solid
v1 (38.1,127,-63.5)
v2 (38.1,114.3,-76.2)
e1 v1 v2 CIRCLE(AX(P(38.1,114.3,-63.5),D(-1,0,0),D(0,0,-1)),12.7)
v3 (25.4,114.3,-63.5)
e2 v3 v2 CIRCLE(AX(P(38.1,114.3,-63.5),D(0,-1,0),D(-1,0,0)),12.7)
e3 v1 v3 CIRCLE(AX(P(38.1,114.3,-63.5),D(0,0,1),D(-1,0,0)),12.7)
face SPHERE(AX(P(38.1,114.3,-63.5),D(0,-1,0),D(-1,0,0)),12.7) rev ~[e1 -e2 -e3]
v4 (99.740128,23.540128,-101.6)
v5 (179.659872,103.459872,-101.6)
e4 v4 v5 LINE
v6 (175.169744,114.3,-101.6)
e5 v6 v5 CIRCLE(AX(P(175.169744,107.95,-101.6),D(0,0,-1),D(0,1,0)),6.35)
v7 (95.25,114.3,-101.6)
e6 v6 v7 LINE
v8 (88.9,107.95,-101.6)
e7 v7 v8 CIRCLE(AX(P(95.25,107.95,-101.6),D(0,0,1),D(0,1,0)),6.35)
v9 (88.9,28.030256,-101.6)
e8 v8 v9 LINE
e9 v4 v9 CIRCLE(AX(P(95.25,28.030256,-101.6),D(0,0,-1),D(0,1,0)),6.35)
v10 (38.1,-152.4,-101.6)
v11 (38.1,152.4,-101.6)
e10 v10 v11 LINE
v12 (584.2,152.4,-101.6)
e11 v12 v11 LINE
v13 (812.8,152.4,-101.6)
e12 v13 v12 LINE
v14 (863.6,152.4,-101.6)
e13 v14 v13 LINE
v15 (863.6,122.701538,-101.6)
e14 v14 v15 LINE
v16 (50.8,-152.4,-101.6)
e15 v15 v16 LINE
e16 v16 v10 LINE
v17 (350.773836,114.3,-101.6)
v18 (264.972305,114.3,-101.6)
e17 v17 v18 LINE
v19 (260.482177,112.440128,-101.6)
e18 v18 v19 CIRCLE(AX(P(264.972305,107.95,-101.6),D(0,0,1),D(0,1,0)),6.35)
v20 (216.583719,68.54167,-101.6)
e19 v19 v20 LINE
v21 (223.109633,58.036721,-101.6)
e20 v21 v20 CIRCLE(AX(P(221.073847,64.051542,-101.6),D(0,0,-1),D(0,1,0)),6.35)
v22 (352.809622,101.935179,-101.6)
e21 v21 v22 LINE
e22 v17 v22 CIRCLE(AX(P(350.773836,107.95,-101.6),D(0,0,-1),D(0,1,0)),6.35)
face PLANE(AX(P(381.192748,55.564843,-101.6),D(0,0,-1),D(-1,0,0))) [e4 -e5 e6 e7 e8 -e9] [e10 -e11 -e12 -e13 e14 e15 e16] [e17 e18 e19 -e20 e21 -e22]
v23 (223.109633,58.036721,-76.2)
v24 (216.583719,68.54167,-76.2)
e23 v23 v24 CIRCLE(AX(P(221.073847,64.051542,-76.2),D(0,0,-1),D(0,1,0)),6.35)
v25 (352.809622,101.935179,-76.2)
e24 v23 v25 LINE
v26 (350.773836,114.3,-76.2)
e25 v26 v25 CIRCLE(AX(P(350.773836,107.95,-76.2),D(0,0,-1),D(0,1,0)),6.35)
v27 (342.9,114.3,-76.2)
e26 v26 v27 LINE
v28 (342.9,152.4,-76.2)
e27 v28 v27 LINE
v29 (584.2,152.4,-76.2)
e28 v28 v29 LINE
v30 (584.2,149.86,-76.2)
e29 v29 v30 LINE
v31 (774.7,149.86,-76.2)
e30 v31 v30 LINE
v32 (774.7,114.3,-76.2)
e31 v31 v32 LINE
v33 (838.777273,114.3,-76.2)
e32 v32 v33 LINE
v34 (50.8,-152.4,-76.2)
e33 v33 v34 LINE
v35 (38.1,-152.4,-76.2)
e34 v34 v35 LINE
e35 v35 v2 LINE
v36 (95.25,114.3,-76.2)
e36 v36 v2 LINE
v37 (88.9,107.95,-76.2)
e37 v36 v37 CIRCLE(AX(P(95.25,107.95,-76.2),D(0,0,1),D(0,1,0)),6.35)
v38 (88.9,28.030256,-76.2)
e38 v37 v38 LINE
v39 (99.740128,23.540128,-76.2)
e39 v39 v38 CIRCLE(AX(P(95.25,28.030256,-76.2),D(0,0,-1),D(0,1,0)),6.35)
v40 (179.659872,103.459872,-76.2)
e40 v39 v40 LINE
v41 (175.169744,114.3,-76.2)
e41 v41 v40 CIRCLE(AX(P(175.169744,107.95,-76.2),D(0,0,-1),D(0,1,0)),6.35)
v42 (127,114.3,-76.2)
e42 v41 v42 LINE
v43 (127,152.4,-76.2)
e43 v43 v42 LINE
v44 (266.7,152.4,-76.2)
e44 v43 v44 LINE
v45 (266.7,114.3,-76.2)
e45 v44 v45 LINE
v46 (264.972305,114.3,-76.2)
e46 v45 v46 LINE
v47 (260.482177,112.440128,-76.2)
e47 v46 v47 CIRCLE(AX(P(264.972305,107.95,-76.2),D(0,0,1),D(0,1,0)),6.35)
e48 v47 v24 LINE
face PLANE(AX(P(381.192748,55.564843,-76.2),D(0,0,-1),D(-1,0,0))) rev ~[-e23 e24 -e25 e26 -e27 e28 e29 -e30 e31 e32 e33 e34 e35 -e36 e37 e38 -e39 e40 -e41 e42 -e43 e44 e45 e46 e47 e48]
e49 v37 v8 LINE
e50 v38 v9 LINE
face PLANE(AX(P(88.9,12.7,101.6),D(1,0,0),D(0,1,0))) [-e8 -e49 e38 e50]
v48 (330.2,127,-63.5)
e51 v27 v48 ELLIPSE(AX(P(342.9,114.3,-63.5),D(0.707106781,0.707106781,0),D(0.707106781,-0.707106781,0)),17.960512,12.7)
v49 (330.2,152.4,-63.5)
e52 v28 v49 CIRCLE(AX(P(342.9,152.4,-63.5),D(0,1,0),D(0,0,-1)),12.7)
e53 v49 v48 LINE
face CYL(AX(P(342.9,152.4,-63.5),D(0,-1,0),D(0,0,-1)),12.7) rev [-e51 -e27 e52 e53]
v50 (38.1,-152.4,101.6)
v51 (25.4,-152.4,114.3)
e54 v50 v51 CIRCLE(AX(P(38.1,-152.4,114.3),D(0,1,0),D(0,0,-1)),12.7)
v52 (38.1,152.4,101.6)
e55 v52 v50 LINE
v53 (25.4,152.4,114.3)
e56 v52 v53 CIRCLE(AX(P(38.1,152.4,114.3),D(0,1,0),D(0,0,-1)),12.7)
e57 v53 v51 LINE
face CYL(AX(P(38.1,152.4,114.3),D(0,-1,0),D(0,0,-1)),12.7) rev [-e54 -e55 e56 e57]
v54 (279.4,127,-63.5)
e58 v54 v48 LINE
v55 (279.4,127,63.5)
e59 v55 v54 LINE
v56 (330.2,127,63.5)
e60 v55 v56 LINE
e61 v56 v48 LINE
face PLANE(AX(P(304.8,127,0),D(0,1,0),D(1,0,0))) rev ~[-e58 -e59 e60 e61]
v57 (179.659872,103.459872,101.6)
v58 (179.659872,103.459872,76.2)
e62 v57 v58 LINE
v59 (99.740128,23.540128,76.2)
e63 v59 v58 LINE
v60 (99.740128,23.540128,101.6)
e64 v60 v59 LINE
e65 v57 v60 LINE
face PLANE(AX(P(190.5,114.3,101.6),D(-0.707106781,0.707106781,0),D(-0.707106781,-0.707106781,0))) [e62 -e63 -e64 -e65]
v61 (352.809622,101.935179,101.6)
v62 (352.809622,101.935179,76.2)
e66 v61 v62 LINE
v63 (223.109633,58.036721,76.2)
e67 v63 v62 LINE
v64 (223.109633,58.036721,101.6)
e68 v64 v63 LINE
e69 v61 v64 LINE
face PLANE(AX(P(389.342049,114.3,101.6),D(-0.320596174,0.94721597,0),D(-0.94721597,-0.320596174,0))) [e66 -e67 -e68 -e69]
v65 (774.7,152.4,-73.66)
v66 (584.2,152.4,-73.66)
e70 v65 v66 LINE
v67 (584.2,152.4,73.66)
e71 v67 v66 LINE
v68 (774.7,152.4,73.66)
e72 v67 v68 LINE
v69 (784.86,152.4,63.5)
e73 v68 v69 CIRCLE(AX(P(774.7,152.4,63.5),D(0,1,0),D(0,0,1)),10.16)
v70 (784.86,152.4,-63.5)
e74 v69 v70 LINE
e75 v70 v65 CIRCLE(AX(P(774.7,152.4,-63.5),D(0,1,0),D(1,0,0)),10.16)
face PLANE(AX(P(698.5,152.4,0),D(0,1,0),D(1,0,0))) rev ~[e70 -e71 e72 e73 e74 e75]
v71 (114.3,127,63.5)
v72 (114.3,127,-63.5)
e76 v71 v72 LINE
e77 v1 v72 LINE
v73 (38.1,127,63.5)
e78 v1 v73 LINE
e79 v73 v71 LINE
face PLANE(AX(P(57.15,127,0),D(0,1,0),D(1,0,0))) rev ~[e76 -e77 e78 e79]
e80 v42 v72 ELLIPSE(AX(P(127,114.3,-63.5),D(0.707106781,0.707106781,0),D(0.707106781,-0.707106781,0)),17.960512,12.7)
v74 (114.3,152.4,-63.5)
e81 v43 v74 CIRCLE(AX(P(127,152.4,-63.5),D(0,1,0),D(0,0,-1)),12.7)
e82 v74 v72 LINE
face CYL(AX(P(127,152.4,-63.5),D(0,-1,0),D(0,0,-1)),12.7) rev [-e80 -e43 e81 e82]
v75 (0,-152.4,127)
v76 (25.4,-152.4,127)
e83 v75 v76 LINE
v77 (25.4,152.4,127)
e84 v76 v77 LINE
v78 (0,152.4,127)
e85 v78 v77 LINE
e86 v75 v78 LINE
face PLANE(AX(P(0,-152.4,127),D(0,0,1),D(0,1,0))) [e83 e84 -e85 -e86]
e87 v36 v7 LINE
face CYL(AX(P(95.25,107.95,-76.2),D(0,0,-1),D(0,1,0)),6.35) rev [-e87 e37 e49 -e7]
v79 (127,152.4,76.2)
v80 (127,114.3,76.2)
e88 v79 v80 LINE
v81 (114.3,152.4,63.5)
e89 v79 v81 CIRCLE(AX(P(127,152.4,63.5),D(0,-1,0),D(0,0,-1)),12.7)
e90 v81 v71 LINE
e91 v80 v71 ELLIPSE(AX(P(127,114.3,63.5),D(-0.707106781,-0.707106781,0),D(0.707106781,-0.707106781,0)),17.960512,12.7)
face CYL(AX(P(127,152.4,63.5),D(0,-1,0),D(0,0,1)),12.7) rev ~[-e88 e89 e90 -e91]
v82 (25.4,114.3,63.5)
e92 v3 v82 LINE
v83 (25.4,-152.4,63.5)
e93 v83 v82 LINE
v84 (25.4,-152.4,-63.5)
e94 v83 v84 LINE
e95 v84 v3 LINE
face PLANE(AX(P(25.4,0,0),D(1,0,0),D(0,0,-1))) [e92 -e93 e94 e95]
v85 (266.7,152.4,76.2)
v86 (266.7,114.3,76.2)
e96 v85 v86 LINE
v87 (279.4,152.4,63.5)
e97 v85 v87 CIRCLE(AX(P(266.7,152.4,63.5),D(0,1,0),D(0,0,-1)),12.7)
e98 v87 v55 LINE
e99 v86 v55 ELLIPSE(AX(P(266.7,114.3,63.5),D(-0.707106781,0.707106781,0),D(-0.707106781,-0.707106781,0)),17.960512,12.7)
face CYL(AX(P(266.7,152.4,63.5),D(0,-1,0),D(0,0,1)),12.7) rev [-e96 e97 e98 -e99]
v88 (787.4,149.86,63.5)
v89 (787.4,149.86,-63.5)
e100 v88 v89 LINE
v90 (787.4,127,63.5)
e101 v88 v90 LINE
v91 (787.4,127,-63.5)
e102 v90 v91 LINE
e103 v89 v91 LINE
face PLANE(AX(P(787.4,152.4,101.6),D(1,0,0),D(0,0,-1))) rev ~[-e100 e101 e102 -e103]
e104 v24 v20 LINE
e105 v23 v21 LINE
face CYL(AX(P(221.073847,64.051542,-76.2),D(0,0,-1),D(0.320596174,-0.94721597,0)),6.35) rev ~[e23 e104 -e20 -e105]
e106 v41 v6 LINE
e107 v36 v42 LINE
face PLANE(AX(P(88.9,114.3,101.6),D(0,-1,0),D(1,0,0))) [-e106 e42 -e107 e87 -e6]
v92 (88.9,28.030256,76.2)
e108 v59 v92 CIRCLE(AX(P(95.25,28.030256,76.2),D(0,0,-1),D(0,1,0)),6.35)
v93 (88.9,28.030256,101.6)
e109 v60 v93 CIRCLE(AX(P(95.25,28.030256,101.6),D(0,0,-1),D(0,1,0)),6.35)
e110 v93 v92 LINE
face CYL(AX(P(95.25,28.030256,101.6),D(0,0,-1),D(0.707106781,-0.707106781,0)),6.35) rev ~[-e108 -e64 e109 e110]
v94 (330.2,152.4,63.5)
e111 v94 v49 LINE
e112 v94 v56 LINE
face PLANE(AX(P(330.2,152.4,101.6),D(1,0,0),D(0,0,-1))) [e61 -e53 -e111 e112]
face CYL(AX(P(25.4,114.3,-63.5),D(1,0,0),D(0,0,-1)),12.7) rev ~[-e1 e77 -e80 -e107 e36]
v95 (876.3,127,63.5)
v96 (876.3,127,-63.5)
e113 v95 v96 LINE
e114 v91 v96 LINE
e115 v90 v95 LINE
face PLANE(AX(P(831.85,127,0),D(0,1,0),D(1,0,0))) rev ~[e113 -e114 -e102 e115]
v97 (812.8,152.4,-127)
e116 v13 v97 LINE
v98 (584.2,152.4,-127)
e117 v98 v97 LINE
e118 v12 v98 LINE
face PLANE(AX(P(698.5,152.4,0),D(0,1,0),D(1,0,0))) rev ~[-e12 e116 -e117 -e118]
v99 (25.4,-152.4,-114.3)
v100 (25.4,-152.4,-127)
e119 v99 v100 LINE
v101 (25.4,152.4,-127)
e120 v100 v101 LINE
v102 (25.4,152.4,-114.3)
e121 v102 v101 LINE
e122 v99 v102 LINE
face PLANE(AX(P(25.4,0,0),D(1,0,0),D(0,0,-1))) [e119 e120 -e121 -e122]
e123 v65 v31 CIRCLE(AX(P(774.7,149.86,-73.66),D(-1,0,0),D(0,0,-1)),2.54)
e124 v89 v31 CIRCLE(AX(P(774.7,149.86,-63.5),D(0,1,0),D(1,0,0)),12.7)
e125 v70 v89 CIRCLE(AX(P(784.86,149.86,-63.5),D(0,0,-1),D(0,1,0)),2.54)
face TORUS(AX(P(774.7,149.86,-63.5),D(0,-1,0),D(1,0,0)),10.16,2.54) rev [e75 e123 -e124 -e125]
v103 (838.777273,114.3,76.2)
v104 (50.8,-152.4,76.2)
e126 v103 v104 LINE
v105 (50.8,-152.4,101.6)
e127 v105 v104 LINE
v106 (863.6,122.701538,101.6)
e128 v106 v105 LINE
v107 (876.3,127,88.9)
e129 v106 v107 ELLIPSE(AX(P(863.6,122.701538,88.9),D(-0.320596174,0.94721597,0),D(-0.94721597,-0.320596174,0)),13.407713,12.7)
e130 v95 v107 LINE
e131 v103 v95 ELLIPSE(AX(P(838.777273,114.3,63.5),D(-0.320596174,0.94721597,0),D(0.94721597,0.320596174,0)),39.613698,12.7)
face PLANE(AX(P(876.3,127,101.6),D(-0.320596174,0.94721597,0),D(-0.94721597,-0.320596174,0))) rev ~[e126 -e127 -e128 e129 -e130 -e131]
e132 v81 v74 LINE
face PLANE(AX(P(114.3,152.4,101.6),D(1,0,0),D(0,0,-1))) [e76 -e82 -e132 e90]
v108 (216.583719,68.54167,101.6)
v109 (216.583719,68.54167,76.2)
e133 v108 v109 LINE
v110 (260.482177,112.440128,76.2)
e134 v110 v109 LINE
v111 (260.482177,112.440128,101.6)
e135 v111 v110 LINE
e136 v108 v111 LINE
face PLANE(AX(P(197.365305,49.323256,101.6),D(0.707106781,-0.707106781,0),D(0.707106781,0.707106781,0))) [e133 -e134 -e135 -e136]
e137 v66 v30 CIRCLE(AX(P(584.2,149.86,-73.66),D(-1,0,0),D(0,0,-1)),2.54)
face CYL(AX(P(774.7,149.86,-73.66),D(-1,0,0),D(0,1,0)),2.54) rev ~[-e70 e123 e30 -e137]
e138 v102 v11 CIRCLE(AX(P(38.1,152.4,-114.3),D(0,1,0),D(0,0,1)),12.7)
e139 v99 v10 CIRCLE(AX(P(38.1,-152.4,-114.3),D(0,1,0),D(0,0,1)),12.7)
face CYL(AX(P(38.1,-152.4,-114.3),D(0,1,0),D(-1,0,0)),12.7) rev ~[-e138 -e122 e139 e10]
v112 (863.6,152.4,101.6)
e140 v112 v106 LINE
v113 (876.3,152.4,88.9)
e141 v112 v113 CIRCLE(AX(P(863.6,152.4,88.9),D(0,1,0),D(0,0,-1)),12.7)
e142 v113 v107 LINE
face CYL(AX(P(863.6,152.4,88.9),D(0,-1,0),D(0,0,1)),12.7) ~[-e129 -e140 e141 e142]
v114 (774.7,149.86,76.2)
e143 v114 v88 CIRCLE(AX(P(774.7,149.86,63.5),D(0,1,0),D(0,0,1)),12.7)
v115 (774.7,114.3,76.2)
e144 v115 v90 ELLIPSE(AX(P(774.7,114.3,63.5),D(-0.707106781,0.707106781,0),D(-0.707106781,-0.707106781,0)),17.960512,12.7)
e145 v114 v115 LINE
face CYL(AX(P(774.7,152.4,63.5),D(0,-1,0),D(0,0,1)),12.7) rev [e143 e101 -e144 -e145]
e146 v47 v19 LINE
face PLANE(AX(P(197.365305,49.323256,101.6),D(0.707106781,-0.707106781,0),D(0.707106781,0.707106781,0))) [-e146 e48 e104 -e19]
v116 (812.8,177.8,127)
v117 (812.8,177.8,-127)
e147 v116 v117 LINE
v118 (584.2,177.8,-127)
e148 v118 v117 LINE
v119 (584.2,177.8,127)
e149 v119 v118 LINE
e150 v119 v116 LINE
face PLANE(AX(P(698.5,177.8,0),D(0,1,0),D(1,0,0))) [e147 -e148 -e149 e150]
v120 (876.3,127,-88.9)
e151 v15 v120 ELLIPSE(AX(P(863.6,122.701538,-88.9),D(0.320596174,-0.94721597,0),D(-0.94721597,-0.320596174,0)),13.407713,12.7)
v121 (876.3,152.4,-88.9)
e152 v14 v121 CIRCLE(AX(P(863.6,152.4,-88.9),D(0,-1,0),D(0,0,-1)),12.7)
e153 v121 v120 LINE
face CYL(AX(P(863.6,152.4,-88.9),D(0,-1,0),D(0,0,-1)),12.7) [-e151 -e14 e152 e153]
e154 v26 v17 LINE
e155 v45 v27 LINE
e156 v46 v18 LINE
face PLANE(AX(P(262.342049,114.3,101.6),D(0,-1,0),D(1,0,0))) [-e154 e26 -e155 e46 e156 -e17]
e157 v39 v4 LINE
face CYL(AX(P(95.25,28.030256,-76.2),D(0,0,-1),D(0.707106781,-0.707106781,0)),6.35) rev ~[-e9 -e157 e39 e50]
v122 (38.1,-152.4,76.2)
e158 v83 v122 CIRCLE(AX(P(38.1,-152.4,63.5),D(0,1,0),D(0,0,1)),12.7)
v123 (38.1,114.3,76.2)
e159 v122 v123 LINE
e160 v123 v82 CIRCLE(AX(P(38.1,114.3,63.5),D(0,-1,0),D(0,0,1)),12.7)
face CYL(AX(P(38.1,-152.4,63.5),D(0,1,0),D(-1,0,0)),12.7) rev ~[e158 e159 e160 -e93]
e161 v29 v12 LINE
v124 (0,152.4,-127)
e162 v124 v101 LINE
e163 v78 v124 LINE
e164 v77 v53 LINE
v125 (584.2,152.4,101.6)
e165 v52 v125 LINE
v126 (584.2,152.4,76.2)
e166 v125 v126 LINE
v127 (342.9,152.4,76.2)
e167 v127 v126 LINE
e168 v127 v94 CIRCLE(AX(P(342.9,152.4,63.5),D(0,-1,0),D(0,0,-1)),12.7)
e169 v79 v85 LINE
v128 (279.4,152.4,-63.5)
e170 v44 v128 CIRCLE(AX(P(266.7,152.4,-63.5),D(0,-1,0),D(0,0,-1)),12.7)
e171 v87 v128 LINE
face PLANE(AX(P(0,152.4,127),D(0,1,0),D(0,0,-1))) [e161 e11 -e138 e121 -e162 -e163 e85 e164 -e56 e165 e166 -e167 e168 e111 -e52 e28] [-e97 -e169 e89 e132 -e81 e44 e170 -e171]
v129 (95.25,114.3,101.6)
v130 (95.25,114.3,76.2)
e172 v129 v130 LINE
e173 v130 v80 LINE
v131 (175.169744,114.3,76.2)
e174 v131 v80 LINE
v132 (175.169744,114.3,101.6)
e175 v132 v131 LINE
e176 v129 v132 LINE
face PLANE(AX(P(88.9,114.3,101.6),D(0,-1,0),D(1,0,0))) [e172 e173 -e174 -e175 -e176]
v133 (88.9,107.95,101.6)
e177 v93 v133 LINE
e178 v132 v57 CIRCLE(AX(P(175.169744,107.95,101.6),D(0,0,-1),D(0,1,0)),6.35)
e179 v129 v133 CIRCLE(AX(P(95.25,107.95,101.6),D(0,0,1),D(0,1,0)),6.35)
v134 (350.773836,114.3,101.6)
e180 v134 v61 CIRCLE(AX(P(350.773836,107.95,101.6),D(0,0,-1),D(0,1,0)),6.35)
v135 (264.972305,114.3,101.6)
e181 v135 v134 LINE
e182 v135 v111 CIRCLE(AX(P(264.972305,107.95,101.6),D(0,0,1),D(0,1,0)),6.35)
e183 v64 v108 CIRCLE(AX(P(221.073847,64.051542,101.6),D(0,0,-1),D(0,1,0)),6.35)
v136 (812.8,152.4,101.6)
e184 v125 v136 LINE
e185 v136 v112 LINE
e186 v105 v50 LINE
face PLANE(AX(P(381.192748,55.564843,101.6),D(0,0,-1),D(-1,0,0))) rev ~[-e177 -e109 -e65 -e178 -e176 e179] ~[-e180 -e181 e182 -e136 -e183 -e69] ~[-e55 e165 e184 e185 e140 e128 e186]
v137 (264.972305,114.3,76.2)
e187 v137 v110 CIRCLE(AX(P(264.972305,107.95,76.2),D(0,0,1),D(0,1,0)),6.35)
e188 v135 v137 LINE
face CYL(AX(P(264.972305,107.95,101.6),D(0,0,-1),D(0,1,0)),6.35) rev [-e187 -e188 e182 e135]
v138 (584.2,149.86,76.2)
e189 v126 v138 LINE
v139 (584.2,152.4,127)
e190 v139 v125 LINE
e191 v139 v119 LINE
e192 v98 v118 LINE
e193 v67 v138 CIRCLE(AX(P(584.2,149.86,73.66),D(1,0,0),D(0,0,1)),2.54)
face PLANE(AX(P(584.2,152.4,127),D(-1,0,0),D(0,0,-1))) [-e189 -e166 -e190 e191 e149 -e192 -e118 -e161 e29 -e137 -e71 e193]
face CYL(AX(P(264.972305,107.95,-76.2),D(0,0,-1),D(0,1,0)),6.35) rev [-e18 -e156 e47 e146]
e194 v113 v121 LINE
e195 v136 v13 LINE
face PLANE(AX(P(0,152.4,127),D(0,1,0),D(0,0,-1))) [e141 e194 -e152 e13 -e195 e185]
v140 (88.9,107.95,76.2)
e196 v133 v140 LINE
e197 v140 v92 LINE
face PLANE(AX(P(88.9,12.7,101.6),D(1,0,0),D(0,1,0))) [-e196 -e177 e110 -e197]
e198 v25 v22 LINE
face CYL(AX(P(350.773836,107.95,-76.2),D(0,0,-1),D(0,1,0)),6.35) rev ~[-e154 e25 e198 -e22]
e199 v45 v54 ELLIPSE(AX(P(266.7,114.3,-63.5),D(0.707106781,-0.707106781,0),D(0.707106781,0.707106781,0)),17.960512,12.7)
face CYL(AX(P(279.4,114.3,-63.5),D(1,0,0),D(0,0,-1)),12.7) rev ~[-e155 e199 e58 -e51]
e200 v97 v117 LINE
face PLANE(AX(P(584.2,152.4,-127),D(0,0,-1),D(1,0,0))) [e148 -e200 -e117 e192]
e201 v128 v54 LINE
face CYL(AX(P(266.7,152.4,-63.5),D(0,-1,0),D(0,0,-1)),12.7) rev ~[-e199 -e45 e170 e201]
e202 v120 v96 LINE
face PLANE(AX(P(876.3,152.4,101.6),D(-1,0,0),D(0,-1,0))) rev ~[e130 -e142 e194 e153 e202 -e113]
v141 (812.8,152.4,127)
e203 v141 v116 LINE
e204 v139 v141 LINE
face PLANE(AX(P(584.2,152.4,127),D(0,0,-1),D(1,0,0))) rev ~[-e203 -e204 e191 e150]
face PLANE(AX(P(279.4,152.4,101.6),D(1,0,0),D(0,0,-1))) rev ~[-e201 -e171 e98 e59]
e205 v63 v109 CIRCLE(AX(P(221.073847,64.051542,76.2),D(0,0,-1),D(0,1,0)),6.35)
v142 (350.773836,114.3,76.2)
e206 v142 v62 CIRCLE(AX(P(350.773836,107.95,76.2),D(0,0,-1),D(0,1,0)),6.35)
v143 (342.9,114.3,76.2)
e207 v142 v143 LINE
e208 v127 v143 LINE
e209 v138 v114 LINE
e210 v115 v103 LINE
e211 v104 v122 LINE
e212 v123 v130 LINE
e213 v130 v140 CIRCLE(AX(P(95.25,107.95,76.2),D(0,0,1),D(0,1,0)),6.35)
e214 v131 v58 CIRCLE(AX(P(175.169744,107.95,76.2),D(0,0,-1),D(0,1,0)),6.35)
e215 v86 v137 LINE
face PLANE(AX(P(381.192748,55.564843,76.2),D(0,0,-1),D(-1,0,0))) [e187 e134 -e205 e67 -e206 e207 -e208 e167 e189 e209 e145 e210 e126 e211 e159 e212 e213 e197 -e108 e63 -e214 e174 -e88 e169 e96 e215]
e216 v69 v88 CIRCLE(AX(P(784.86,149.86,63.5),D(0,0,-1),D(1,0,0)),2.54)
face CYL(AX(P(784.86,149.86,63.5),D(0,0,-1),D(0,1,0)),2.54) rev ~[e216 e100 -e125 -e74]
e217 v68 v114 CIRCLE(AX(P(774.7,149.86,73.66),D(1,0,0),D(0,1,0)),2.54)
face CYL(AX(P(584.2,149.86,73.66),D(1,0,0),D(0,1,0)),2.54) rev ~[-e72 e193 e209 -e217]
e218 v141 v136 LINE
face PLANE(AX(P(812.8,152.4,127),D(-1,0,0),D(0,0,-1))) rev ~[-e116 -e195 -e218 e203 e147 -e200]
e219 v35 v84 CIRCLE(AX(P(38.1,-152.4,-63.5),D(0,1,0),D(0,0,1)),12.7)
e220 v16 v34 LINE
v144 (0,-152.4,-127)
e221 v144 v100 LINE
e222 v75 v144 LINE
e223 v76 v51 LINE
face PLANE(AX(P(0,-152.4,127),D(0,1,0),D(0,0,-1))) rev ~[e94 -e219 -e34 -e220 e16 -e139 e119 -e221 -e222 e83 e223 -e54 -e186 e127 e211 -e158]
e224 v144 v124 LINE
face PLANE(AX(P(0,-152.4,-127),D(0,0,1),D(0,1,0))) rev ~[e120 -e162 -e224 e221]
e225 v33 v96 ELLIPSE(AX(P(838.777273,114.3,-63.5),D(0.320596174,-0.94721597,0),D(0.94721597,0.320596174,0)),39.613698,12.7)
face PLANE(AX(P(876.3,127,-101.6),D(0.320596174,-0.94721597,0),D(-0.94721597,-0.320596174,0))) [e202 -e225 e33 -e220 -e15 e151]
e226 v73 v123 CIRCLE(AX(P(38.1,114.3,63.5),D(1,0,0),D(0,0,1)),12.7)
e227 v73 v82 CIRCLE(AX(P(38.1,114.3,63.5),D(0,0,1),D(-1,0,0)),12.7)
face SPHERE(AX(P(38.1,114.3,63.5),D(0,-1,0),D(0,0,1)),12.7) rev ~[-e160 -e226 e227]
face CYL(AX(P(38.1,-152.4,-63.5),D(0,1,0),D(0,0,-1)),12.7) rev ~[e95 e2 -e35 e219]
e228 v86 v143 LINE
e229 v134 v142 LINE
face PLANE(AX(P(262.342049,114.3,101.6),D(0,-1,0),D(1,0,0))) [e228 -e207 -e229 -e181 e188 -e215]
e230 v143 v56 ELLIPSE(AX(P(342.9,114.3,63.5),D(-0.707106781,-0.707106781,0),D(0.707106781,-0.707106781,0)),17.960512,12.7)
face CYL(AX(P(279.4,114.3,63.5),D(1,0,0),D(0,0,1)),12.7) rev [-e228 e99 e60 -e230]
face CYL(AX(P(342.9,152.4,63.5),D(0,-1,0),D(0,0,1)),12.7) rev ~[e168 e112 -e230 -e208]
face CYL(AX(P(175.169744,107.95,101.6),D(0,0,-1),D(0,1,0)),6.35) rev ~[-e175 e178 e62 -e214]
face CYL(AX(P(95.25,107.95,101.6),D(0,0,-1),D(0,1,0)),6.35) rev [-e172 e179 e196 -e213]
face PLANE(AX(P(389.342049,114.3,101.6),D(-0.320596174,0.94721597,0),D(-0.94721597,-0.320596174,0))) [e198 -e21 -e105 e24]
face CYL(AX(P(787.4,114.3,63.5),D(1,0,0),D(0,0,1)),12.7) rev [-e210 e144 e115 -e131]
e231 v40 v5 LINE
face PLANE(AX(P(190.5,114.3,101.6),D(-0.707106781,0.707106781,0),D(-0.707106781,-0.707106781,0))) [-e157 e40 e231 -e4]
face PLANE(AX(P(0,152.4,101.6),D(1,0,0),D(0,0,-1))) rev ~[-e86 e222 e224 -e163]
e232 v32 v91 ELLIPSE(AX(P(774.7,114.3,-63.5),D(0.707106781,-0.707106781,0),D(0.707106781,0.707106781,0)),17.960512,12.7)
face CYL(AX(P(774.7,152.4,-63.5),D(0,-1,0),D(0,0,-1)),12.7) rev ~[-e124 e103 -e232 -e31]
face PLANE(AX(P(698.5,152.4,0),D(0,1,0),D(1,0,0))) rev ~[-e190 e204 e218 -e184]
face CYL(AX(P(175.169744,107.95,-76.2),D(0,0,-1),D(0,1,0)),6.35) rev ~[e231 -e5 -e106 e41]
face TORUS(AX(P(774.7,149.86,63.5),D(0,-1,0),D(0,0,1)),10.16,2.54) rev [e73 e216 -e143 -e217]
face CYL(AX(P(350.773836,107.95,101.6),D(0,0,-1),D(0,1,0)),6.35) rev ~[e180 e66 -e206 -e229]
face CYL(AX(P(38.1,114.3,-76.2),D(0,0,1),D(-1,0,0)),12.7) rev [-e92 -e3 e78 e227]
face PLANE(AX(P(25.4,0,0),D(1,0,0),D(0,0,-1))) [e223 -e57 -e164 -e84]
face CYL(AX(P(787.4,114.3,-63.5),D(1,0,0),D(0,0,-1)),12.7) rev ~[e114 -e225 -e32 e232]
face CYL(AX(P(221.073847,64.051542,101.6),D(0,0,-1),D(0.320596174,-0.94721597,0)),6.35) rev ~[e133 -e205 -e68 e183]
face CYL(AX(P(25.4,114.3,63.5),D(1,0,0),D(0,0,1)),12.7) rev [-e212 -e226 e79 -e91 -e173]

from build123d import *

# Parameters (mm, degrees)
BASE_SKETCH_W            = 254
BASE_SKETCH_H            = 304.8
BASE_DEPTH               = 25.4
RIGHT_TRIANGLE_DEPTH     = 25.4
LEFT_TRIANGLE_DEPTH      = 25.4
SUPPORT_BEAMS_SKETCH_W   = 114.3
SUPPORT_BEAMS_SKETCH_H   = 203.2
SUPPORT_BEAMS_SKETCH_W_2 = 50.8
SUPPORT_BEAMS_SKETCH_W_3 = 88.9
SUPPORT_BEAMS_DEPTH      = 25.4
FILLET1_R                = 12.7
TOP_PLATE_SKETCH_W       = 228.6
TOP_PLATE_SKETCH_H       = 254
TOP_PLATE_DEPTH          = 25.4
FILLET4_R                = 2.54
CUT_EXTRUDE1_DEPTH       = 229.6
FILLET6_R                = 6.35


with BuildPart() as part:
    # Base Sketch → Base (new body)
    with BuildSketch(Plane(origin=(0, 0, 0), x_dir=(0, 0, -1), z_dir=(1, 0, 0))):
        Rectangle(BASE_SKETCH_W, BASE_SKETCH_H)
    extrude(amount=BASE_DEPTH)

    # Right Triangle Sketch → Right Triangle (add)
    with BuildSketch(Plane.XY.offset(101.6)):
        Polygon((0, 152.4), (876.3, 152.4), (876.3, 127), (50.8, -152.4), (0, -152.4), align=None)
    extrude(amount=-RIGHT_TRIANGLE_DEPTH)

    # Left Triangle Sketch → Left Triangle (add)
    with BuildSketch(Plane(origin=(0, 0, -101.6), x_dir=(-1, 0, 0), z_dir=(0, 0, -1))):
        Polygon((0, 152.4), (-876.3, 152.4), (-876.3, 127), (-50.8, -152.4), (0, -152.4), align=None)
    extrude(amount=-LEFT_TRIANGLE_DEPTH)

    # Support Beams Sketch → Support Beams (add)
    with BuildSketch(Plane(origin=(0, 152.4, 0), x_dir=(1, 0, 0), z_dir=(0, 1, 0))):
        with Locations((57.15, 0)):
            Rectangle(SUPPORT_BEAMS_SKETCH_W, SUPPORT_BEAMS_SKETCH_H)
        with Locations((304.8, 0)):
            Rectangle(SUPPORT_BEAMS_SKETCH_W_2, SUPPORT_BEAMS_SKETCH_H)
        with Locations((831.85, 0)):
            Rectangle(SUPPORT_BEAMS_SKETCH_W_3, SUPPORT_BEAMS_SKETCH_H)
    extrude(amount=-SUPPORT_BEAMS_DEPTH)

    # Fillet1
    fillet1_edges = [part.edges().sort_by_distance(p)[0] for p in [
        (279.4, 139.7, 76.2),
        (330.2, 139.7, 76.2),
        (304.8, 127, 76.2),
        (304.8, 127, -76.2),
        (279.4, 139.7, -76.2),
        (330.2, 139.7, -76.2),
        (787.4, 139.7, 76.2),
        (831.85, 127, 76.2),
        (831.85, 127, -76.2),
        (787.4, 139.7, -76.2),
        (25.4, 0, 101.6),
        (876.3, 139.7, 101.6),
        (876.3, 139.7, -101.6),
        (25.4, 0, -101.6),
        (25.4, -12.7, -76.2),
        (25.4, -12.7, 76.2),
        (114.3, 139.7, 76.2),
        (69.85, 127, 76.2),
        (114.3, 139.7, -76.2),
        (25.4, 127, 0),
        (69.85, 127, -76.2),
    ]]
    fillet(fillet1_edges, radius=FILLET1_R)

    # Top Plate Sketch → Top Plate (add)
    with BuildSketch(Plane(origin=(0, 152.4, 0), x_dir=(1, 0, 0), z_dir=(0, 1, 0))):
        with Locations((698.5, 0)):
            Rectangle(TOP_PLATE_SKETCH_W, TOP_PLATE_SKETCH_H)
    extrude(amount=TOP_PLATE_DEPTH)

    # Fillet4
    fillet4_edges = [part.edges().sort_by_distance(p)[0] for p in [
        (787.4, 152.4, 0),
        (679.45, 152.4, 76.2),
        (783.680256121, 152.4, 72.480256121),
        (783.680256121, 152.4, -72.480256121),
        (679.45, 152.4, -76.2),
    ]]
    fillet(fillet4_edges, radius=FILLET4_R)

    # Sketch1 → Cut-Extrude1 (cut, through all)
    with BuildSketch(Plane.XY.offset(101.6)):
        Polygon((88.9, 12.7), (88.9, 114.3), (190.5, 114.3), align=None)
        Polygon((197.365304783, 49.323255814), (262.342048969, 114.3), (389.342048969, 114.3), align=None)
    extrude(amount=-CUT_EXTRUDE1_DEPTH, mode=Mode.SUBTRACT)

    # Fillet6
    fillet6_edges = [part.edges().sort_by_distance(p)[0] for p in [
        (190.5, 114.3, -88.9),
        (88.9, 12.7, -88.9),
        (88.9, 114.3, -88.9),
        (190.5, 114.3, 88.9),
        (88.9, 12.7, 88.9),
        (88.9, 114.3, 88.9),
        (389.342048969, 114.3, -88.9),
        (197.365304783, 49.323255814, -88.9),
        (262.342048969, 114.3, -88.9),
        (389.342048969, 114.3, 88.9),
        (197.365304783, 49.323255814, 88.9),
        (262.342048969, 114.3, 88.9),
    ]]
    fillet(fillet6_edges, radius=FILLET6_R)


solid = part.part
